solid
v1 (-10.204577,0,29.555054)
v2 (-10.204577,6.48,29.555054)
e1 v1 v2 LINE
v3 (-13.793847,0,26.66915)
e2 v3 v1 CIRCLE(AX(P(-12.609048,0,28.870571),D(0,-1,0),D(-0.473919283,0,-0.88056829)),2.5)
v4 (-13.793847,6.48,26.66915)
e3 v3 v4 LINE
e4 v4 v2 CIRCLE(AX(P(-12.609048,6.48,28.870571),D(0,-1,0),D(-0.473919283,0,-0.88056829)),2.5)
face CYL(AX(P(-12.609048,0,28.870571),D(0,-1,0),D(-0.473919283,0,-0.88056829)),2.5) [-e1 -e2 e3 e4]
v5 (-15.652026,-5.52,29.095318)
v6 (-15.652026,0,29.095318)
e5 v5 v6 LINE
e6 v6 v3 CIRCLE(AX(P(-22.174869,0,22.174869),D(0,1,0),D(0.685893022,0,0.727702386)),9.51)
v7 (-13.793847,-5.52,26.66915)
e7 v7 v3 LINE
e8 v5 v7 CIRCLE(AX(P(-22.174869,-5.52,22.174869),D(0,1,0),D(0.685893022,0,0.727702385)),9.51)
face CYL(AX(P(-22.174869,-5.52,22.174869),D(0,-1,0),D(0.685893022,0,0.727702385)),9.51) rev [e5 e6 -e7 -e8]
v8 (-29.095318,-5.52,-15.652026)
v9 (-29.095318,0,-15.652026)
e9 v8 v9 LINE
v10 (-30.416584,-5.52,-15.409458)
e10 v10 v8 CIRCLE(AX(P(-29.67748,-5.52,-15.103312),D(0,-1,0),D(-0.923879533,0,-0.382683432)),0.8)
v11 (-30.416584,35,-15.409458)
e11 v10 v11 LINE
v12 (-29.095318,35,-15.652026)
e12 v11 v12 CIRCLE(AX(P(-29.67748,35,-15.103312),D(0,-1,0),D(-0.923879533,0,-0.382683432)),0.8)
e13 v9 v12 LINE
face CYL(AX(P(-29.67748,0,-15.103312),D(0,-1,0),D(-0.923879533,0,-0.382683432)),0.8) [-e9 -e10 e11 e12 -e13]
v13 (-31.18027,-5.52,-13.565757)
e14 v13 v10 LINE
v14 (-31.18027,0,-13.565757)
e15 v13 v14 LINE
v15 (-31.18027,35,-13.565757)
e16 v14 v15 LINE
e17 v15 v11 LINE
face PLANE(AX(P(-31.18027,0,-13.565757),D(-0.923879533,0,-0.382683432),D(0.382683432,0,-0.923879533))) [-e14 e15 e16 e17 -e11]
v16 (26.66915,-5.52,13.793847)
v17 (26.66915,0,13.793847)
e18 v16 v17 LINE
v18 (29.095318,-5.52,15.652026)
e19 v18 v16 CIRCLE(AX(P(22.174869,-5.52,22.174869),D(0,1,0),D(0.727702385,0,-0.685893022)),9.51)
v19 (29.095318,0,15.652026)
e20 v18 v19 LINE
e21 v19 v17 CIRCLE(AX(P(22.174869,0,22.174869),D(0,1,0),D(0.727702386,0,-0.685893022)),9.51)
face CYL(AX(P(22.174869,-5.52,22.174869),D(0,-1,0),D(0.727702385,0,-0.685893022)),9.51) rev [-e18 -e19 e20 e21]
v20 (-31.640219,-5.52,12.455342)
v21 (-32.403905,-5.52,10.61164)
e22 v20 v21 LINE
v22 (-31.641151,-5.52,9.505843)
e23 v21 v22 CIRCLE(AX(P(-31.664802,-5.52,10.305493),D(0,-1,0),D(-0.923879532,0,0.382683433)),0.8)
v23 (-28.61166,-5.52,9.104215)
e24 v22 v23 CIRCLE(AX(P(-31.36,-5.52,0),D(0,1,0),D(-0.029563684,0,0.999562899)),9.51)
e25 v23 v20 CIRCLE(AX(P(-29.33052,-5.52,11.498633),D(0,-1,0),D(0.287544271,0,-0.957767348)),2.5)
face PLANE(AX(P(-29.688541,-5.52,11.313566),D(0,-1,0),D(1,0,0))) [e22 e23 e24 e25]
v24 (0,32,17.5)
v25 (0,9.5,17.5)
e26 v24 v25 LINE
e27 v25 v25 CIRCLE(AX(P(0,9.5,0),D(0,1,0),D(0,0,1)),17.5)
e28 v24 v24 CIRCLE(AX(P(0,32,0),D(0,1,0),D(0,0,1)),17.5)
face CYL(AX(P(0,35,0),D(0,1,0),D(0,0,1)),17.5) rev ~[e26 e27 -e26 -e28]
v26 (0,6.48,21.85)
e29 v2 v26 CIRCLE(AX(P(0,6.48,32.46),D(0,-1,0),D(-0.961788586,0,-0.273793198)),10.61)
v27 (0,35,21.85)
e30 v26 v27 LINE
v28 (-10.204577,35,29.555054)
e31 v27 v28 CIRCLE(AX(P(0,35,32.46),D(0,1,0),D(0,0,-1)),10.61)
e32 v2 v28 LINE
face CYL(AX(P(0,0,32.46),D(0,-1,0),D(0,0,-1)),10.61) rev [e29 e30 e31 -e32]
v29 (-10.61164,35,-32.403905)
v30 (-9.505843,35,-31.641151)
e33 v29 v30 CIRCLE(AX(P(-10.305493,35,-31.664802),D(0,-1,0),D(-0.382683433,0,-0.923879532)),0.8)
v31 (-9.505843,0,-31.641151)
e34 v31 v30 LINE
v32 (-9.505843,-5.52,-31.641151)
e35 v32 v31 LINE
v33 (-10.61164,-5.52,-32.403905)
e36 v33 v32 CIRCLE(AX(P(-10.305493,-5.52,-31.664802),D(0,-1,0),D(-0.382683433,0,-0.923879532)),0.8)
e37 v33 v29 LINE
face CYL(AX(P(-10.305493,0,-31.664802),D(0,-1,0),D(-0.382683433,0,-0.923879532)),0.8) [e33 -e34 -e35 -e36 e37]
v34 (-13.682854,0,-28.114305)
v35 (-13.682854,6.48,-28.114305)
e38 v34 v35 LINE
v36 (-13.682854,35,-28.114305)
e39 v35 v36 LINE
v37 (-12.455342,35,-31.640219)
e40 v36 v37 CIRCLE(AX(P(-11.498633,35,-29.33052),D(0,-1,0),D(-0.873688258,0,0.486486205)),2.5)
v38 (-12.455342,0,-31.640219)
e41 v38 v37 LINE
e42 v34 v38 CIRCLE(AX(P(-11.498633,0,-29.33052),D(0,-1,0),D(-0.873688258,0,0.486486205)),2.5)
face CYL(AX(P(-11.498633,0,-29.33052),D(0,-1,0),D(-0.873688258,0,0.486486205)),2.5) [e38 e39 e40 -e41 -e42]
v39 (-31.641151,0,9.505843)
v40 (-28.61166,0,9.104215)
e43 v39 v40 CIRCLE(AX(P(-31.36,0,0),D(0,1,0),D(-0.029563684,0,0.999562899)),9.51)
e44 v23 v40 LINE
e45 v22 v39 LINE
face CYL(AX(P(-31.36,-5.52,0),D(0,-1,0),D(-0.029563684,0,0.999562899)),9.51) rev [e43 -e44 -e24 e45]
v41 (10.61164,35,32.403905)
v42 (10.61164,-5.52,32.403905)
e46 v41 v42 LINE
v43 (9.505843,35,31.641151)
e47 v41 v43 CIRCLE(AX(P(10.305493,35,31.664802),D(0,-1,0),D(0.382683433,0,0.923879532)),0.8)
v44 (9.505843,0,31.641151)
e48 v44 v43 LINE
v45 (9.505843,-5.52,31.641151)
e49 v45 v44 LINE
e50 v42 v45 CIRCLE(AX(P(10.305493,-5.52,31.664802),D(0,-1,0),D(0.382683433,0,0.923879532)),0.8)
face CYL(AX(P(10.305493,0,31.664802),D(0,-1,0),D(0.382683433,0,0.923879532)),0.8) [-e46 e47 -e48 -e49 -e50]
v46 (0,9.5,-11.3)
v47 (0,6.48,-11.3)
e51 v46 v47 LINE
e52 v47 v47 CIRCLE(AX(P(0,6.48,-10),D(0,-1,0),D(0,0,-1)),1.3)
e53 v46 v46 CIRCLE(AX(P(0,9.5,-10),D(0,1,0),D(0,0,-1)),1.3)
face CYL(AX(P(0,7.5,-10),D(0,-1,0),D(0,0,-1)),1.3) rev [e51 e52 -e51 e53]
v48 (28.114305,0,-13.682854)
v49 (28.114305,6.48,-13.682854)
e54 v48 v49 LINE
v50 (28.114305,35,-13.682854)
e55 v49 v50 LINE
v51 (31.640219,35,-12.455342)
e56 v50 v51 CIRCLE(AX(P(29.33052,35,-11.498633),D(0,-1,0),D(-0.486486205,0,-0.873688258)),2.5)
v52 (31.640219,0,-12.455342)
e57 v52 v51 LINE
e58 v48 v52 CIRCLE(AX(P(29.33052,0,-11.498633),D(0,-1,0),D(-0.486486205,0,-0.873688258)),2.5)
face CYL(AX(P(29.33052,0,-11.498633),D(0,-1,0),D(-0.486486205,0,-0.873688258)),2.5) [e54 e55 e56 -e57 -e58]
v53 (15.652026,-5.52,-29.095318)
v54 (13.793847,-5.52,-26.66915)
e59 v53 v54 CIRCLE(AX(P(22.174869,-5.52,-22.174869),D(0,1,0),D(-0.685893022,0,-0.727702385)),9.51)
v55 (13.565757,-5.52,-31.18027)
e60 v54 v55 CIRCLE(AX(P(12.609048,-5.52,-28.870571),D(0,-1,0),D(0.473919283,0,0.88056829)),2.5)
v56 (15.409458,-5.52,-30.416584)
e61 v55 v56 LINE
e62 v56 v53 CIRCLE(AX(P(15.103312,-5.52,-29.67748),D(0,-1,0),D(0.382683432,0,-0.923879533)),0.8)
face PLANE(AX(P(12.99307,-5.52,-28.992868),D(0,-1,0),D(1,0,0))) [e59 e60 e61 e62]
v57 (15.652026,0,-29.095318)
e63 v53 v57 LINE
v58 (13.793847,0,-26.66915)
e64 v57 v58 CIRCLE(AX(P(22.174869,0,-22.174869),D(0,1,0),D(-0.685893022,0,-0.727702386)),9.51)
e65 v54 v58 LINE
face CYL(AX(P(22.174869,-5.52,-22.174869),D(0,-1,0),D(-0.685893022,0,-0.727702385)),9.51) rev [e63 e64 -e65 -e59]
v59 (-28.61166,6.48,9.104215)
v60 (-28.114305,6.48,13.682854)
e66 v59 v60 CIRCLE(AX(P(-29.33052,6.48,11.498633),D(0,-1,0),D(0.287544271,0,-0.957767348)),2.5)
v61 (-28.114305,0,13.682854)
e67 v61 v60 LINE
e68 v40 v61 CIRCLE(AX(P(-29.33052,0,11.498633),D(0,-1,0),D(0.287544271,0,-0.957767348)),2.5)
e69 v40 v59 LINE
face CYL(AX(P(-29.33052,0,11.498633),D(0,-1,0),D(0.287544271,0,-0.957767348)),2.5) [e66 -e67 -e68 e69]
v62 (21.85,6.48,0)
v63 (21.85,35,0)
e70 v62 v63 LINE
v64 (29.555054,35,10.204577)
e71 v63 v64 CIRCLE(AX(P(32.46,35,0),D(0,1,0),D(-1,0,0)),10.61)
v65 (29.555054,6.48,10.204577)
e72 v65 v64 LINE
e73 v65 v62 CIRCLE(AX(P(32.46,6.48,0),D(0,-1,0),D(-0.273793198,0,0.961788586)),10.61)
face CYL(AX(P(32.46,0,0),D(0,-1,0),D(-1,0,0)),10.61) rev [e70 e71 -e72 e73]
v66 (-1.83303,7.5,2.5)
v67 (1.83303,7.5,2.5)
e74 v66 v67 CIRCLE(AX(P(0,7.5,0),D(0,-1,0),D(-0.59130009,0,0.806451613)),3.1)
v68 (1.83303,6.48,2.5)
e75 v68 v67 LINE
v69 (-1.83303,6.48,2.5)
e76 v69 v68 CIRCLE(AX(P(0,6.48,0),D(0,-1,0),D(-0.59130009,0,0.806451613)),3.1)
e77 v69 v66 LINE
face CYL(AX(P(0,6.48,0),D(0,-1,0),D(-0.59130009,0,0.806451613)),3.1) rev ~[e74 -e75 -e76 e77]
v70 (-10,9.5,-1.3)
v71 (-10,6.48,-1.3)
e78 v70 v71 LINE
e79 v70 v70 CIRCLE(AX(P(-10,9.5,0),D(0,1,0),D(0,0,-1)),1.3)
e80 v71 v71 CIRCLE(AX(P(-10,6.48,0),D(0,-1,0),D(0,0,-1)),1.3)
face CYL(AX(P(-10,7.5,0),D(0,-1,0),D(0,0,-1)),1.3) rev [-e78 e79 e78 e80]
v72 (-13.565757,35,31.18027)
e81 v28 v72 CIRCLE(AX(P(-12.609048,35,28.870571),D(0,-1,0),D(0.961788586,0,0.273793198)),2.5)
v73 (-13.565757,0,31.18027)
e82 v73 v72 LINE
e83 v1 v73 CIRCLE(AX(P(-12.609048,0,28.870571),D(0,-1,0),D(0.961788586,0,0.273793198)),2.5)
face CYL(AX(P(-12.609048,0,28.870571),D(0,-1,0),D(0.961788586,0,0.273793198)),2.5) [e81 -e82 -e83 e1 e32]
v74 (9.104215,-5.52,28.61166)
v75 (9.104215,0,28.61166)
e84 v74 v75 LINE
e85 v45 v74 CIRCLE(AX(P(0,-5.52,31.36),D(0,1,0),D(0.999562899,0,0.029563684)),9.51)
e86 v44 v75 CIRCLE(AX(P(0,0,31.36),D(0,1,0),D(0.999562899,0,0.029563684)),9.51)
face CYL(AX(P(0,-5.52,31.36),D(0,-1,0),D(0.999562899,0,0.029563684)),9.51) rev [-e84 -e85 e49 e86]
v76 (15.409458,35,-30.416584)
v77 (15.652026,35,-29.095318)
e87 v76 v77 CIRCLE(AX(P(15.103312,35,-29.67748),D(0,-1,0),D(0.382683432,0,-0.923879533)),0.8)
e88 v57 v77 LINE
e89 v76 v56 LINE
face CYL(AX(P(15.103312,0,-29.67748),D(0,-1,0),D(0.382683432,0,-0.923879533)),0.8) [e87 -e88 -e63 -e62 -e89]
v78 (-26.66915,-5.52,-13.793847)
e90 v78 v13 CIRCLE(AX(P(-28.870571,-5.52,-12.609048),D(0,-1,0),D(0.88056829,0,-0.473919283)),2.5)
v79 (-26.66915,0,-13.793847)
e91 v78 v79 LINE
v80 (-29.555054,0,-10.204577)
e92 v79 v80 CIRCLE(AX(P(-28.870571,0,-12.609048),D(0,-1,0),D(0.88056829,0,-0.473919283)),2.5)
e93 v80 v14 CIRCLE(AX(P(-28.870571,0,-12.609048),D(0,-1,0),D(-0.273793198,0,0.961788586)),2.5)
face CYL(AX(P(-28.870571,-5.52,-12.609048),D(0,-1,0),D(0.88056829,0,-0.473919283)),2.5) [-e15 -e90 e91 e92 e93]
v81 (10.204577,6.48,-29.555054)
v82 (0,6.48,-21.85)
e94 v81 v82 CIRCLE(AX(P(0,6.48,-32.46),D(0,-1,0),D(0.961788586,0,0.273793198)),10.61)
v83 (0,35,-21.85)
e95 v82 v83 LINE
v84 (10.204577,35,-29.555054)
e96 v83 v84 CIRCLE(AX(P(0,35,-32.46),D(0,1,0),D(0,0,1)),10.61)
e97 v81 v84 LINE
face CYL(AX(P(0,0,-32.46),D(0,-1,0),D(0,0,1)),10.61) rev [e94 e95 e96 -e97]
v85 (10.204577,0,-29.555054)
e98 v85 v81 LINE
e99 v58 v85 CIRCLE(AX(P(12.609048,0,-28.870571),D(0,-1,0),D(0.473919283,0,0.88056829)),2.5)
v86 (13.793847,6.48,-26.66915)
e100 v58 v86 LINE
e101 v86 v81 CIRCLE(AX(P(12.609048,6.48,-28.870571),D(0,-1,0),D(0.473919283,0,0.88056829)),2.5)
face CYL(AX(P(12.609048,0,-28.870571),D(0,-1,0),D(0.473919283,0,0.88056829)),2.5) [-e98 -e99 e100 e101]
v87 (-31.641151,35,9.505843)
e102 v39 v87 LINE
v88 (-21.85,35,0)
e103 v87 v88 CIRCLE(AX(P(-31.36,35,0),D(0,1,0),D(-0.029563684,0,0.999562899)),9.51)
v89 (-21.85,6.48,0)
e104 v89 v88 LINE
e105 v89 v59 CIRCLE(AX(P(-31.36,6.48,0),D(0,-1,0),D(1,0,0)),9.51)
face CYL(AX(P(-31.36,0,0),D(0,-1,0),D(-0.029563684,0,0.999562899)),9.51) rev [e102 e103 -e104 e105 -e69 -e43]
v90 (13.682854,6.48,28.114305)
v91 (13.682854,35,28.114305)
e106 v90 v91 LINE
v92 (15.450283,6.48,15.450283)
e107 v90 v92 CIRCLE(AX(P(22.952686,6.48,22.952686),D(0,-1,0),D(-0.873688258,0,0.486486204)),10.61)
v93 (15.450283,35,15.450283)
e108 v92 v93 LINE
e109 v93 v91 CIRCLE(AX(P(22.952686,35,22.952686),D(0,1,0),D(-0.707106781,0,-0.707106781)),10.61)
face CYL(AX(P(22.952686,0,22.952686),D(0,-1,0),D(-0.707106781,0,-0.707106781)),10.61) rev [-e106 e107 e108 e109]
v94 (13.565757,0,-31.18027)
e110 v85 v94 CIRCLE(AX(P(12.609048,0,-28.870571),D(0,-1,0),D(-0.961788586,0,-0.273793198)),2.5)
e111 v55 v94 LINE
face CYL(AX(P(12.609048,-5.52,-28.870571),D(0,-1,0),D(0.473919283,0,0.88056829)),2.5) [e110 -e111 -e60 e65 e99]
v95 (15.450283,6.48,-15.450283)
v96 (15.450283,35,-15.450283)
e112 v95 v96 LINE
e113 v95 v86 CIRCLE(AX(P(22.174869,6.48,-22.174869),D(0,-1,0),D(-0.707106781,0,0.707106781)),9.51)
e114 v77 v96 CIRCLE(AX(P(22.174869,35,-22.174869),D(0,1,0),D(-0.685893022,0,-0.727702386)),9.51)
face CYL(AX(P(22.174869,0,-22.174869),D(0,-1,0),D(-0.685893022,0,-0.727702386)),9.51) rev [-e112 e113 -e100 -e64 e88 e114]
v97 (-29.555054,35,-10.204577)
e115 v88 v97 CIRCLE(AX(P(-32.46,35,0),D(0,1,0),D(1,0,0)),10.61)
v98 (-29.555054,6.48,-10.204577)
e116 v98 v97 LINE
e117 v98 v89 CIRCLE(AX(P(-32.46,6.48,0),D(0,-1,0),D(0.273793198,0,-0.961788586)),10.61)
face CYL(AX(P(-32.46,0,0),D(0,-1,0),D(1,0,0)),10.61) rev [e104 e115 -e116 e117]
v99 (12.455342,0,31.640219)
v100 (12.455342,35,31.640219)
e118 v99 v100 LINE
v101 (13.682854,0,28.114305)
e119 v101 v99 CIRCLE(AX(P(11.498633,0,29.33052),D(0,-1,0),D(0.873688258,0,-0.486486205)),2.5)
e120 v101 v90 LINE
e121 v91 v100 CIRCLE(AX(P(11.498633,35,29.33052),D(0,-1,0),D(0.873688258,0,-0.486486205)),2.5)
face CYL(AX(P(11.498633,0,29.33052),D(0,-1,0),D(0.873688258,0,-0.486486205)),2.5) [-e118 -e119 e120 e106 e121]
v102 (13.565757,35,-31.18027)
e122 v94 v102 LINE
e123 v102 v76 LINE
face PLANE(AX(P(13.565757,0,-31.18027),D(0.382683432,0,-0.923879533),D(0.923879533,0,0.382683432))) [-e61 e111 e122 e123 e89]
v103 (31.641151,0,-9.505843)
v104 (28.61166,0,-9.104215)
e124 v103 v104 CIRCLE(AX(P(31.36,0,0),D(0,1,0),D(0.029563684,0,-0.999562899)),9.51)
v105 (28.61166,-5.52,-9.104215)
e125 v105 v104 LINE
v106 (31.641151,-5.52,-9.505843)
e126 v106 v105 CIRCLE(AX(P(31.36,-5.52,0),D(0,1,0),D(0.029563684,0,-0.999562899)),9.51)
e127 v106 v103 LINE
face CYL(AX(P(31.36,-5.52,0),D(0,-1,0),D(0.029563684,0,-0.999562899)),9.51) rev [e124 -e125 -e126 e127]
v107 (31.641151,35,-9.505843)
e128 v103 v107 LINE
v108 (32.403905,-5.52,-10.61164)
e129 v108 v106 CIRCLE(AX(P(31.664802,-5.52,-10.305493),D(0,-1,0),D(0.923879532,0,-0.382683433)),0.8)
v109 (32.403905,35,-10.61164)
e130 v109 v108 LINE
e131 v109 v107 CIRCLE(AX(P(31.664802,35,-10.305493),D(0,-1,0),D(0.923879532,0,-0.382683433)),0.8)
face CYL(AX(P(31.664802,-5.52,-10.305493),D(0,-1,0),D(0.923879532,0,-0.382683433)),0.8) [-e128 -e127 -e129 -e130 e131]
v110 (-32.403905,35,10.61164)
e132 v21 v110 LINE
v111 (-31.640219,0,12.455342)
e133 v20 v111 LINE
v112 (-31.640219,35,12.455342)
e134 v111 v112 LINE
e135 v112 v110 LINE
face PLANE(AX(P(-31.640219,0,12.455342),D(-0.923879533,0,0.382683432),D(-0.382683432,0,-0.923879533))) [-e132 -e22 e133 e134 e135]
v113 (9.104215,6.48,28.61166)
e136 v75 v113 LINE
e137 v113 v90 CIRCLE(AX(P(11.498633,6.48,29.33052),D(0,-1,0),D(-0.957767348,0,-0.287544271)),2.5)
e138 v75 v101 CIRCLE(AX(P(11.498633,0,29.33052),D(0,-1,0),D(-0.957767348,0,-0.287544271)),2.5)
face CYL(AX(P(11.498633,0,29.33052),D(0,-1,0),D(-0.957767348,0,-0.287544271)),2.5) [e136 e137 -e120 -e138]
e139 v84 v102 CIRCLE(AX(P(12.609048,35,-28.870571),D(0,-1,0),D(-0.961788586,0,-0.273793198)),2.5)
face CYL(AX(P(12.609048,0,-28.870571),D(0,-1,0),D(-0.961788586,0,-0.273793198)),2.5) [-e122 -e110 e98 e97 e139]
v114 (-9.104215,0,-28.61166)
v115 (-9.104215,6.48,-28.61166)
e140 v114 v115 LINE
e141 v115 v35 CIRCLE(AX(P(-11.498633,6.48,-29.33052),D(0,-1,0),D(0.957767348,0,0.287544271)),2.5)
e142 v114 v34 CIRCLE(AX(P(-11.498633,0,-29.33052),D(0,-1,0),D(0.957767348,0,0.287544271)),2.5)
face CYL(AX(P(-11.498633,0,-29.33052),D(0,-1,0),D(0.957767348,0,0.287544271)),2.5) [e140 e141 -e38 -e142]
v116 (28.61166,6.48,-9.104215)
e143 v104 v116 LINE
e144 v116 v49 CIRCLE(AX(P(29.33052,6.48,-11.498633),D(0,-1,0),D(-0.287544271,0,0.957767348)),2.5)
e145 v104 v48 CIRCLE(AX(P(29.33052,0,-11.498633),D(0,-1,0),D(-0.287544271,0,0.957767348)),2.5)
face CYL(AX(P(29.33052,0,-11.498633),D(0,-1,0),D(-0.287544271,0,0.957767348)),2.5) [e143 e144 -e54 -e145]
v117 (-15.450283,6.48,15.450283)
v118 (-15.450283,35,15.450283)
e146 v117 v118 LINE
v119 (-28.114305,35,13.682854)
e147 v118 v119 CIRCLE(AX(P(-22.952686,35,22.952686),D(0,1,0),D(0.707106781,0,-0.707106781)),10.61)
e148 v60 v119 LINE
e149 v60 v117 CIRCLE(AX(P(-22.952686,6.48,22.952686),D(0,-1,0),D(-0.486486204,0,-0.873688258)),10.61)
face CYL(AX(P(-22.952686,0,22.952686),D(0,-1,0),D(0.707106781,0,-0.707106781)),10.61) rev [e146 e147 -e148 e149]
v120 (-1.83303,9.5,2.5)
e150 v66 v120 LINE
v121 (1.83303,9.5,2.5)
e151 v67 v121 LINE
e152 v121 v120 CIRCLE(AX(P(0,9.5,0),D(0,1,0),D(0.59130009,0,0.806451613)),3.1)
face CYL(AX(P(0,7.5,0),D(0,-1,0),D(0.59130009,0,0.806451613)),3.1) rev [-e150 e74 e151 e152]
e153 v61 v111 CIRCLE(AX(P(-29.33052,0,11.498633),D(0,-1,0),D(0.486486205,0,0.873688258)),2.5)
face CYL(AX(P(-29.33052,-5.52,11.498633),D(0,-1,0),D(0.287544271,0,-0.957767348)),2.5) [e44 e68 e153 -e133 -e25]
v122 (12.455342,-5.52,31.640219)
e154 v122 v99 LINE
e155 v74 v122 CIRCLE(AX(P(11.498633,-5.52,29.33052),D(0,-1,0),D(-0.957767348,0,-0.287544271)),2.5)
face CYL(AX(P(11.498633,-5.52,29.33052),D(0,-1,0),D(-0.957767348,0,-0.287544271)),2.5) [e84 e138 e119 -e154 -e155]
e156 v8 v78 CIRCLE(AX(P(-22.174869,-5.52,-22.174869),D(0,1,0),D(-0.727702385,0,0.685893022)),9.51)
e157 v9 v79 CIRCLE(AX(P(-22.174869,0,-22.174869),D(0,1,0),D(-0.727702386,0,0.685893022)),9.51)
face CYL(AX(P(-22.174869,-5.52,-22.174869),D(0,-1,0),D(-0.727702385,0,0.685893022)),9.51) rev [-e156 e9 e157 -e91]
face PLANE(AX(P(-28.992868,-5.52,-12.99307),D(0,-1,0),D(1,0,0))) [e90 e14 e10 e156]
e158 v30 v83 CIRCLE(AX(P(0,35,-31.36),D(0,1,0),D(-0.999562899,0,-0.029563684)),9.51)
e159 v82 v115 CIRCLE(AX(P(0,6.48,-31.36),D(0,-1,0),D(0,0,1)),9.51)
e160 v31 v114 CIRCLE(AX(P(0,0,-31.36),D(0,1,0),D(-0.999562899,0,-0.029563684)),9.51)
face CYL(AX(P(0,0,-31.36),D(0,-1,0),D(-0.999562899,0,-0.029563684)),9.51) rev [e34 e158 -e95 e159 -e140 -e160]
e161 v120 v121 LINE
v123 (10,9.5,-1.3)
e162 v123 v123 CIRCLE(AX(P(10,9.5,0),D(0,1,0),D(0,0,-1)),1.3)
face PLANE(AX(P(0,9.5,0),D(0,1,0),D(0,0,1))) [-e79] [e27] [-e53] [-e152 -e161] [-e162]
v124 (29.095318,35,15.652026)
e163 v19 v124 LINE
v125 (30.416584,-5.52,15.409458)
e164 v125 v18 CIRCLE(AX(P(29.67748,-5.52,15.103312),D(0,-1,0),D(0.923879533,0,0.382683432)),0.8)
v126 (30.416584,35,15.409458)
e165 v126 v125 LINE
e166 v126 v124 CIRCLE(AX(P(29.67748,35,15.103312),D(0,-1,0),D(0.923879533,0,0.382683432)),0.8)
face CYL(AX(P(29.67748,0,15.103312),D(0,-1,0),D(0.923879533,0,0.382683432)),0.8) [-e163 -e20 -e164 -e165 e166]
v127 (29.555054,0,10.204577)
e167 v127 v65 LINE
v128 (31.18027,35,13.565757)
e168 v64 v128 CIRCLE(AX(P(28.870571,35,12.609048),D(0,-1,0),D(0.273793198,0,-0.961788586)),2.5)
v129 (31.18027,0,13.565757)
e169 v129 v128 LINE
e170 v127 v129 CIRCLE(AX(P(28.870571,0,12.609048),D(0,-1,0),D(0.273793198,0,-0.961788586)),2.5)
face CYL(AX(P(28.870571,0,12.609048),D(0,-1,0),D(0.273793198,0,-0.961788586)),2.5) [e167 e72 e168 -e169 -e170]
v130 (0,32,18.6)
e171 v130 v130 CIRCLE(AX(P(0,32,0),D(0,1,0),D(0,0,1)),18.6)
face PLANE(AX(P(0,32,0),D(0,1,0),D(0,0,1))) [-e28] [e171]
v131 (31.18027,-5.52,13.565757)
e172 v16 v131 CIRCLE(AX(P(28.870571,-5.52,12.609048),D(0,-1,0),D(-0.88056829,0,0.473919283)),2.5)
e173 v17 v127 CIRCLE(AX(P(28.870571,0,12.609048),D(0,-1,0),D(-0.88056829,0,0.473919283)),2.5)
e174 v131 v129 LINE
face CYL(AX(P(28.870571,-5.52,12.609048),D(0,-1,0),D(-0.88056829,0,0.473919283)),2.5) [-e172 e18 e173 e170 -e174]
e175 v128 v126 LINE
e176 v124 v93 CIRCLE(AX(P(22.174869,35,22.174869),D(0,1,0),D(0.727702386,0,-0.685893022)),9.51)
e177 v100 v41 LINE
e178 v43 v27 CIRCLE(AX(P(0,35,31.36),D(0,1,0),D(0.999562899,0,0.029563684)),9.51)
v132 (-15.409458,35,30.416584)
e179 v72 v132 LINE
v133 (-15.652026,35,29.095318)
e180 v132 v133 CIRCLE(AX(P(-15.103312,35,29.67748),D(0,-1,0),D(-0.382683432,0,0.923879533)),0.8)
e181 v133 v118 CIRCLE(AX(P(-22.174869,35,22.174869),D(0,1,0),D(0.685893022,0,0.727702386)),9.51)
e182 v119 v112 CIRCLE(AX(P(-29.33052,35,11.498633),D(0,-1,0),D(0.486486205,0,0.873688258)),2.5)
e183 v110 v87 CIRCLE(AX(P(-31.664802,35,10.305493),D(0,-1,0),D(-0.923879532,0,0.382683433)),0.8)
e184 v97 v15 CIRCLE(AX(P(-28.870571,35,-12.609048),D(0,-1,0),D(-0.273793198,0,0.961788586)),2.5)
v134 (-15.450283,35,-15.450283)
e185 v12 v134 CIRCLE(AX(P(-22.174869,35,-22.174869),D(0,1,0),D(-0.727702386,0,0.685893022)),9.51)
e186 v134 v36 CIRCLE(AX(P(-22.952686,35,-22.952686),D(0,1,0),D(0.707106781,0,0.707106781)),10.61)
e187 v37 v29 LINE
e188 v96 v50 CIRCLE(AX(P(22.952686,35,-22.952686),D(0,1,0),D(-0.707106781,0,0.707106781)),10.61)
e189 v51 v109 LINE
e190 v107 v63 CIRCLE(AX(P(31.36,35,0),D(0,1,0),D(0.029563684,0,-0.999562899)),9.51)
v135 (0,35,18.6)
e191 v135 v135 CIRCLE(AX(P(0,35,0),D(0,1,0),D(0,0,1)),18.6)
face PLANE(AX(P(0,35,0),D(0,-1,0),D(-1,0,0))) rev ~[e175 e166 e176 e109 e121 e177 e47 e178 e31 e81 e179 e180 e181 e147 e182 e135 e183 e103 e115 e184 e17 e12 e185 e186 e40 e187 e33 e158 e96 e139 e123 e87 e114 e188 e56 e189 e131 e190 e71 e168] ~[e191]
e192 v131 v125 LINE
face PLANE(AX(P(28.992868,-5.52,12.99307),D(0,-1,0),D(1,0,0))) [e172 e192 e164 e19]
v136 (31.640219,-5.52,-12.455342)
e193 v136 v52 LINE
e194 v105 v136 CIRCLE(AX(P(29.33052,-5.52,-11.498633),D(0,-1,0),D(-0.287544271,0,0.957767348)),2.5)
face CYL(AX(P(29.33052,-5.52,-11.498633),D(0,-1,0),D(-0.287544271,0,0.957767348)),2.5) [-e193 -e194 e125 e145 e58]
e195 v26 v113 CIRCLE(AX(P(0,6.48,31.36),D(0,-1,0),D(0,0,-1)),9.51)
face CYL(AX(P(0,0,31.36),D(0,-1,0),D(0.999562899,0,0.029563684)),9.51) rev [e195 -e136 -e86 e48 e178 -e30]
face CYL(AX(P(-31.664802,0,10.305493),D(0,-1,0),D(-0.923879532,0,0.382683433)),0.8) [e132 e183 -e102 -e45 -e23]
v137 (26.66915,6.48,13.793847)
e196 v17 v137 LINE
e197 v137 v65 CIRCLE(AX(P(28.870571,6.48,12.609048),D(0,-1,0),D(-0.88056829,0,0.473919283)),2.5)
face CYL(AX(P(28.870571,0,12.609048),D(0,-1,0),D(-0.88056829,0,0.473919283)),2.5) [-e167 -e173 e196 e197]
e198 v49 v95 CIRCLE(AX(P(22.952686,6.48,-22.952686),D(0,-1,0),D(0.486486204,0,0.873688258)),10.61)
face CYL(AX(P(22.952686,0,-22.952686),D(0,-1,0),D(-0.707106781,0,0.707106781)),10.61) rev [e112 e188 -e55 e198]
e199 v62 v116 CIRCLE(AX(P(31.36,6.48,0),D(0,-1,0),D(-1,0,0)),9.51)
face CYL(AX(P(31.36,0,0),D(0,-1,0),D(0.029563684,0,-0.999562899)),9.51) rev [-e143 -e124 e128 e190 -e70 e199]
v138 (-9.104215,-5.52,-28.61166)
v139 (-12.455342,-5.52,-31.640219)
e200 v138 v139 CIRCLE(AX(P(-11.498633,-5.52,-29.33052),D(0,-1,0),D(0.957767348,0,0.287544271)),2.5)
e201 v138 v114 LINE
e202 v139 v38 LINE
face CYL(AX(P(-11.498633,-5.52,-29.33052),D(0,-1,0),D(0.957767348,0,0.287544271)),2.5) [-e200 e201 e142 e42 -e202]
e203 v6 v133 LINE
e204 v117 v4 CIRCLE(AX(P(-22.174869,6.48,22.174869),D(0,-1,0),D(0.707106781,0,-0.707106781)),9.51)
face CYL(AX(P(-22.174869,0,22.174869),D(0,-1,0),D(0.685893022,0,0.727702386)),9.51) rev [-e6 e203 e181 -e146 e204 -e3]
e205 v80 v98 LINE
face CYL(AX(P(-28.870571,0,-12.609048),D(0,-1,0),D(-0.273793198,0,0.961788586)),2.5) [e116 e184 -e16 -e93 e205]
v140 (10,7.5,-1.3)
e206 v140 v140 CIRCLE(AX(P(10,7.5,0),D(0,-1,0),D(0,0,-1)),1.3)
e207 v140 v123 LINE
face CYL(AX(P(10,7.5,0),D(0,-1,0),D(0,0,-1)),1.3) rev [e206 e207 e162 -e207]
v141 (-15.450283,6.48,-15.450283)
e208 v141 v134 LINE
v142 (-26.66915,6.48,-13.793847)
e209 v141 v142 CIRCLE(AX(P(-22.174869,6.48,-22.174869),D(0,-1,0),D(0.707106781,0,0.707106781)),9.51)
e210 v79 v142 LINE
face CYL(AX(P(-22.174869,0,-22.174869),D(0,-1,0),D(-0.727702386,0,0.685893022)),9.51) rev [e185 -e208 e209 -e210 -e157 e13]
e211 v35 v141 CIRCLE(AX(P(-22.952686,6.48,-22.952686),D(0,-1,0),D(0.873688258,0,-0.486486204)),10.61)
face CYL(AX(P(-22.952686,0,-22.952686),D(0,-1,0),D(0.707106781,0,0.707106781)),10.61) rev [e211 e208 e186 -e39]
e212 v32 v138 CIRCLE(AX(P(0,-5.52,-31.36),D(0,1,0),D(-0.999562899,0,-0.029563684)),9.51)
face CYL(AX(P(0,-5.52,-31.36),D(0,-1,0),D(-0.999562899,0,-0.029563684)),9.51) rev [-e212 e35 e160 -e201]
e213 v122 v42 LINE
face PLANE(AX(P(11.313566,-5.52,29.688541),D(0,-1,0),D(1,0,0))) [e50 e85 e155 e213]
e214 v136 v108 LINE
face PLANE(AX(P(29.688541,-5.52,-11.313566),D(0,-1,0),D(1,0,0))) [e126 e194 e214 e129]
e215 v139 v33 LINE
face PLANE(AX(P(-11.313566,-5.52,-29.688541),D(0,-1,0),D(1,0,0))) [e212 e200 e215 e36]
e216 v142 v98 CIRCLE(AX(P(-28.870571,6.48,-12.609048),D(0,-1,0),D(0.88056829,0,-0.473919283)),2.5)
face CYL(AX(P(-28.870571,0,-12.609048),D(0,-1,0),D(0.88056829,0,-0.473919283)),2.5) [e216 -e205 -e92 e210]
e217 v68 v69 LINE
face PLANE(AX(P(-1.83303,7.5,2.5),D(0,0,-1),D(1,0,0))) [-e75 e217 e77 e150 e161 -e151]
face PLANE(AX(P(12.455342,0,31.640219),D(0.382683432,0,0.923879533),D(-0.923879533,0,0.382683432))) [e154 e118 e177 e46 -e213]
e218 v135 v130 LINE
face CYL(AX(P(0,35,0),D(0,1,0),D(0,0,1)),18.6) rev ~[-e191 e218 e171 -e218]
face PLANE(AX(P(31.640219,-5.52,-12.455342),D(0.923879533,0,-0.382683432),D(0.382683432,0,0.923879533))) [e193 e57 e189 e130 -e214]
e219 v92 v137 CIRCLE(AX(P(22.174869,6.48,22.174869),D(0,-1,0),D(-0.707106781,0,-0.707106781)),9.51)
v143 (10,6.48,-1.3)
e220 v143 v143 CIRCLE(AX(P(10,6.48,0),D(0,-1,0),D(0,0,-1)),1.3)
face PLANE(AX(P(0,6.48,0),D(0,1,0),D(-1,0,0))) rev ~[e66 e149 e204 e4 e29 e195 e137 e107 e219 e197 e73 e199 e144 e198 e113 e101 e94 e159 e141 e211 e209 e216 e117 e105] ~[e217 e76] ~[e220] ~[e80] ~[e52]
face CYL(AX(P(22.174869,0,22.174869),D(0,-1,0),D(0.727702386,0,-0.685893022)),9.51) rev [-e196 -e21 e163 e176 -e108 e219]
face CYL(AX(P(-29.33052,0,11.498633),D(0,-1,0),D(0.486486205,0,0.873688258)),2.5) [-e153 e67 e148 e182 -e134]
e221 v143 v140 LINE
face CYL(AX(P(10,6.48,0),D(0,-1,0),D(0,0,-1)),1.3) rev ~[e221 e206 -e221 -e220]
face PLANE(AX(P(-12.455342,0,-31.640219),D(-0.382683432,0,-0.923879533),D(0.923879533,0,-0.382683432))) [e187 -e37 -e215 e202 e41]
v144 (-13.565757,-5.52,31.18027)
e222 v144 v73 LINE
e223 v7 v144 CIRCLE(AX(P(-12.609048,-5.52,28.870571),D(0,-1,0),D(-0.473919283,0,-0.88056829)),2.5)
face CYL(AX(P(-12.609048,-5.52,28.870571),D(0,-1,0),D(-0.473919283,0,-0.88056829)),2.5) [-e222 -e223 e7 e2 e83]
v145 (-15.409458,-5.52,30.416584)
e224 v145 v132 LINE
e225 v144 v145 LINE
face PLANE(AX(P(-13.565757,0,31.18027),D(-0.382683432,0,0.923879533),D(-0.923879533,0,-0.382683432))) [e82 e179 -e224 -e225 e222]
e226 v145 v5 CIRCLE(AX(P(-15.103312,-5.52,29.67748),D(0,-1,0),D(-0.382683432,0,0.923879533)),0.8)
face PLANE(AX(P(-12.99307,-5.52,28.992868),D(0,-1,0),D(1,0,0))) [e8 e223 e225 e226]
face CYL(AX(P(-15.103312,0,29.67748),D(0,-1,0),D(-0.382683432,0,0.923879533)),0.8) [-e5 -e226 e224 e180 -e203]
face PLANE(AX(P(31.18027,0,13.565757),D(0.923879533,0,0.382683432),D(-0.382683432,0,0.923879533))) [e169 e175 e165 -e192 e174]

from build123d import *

# Parameters (mm, degrees)
EXTRUDE_1_DEPTH     = 35
SKETCH_5_R          = 17.5
CUT_EXTRUDE_3_DEPTH = 27.5
SKETCH_6_R          = 18.6
CUT_EXTRUDE_4_DEPTH = 3
CUT_EXTRUDE_5_DEPTH = 6.48
CUT_EXTRUDE_6_DEPTH = 55.049209838
EXTRUDE_START       = 5.52
EXTRUDE_2_DEPTH     = 5.52
SKETCH_12_R         = 1.3
CUT_EXTRUDE_7_DEPTH = 55.049209838
SKETCH_13_R         = 17.5
SKETCH_13_R_2       = 1.3
EXTRUDE_3_DEPTH     = 2


with BuildPart() as part:
    # 草图1 → 凸台-拉伸1 (new body)
    with BuildSketch(Plane(origin=(0, 0, 0), x_dir=(1, 0, 0), z_dir=(0, 1, 0))):
        with BuildLine():
            Line((13.565756947, 31.180270004), (15.409458345, 30.41658388))
            ThreePointArc((15.409458345, 30.41658388), (15.890161366, 29.821935938), (15.652026017, 29.095318346))
            ThreePointArc((15.652026017, 29.095318346), (12.665907923, 22.315459341), (15.450283169, 15.450283169))
            ThreePointArc((15.450283169, 15.450283169), (21.486135899, 12.444530691), (28.114304746, 13.682853695))
            ThreePointArc((28.114304746, 13.682853695), (30.152483097, 13.859644928), (31.640219088, 12.45534163))
            Line((31.640219088, 12.45534163), (32.403905212, 10.611640232))
            ThreePointArc((32.403905212, 10.611640232), (32.323333986, 9.851252274), (31.641150639, 9.505843167))
            ThreePointArc((31.641150639, 9.505843167), (24.735562008, 6.823263243), (21.85, 0))
            ThreePointArc((21.85, 0), (23.992604436, -6.393380355), (29.555054168, -10.2045769))
            ThreePointArc((29.555054168, -10.2045769), (31.121274181, -11.520776354), (31.180270004, -13.565756947))
            Line((31.180270004, -13.565756947), (30.41658388, -15.409458345))
            ThreePointArc((30.41658388, -15.409458345), (29.821935938, -15.890161366), (29.095318346, -15.652026017))
            ThreePointArc((29.095318346, -15.652026017), (22.315459341, -12.665907923), (15.450283169, -15.450283169))
            ThreePointArc((15.450283169, -15.450283169), (12.444530691, -21.486135899), (13.682853695, -28.114304746))
            ThreePointArc((13.682853695, -28.114304746), (13.859644928, -30.152483097), (12.45534163, -31.640219088))
            Line((12.45534163, -31.640219088), (10.611640232, -32.403905212))
            ThreePointArc((10.611640232, -32.403905212), (9.851252274, -32.323333986), (9.505843167, -31.641150639))
            ThreePointArc((9.505843167, -31.641150639), (6.823263243, -24.735562008), (0, -21.85))
            ThreePointArc((0, -21.85), (-6.393380355, -23.992604436), (-10.2045769, -29.555054168))
            ThreePointArc((-10.2045769, -29.555054168), (-11.520776354, -31.121274181), (-13.565756947, -31.180270004))
            Line((-13.565756947, -31.180270004), (-15.409458345, -30.41658388))
            ThreePointArc((-15.409458345, -30.41658388), (-15.890161366, -29.821935938), (-15.652026017, -29.095318346))
            ThreePointArc((-15.652026017, -29.095318346), (-12.665907923, -22.315459341), (-15.450283169, -15.450283169))
            ThreePointArc((-15.450283169, -15.450283169), (-21.486135899, -12.444530691), (-28.114304746, -13.682853695))
            ThreePointArc((-28.114304746, -13.682853695), (-30.152483097, -13.859644928), (-31.640219088, -12.45534163))
            Line((-31.640219088, -12.45534163), (-32.403905212, -10.611640232))
            ThreePointArc((-32.403905212, -10.611640232), (-32.323333986, -9.851252274), (-31.641150639, -9.505843167))
            ThreePointArc((-31.641150639, -9.505843167), (-24.735562008, -6.823263243), (-21.85, 0))
            ThreePointArc((-21.85, 0), (-23.992604436, 6.393380355), (-29.555054168, 10.2045769))
            ThreePointArc((-29.555054168, 10.2045769), (-31.121274181, 11.520776354), (-31.180270004, 13.565756947))
            Line((-31.180270004, 13.565756947), (-30.41658388, 15.409458345))
            ThreePointArc((-30.41658388, 15.409458345), (-29.821935938, 15.890161366), (-29.095318346, 15.652026017))
            ThreePointArc((-29.095318346, 15.652026017), (-22.315459341, 12.665907923), (-15.450283169, 15.450283169))
            ThreePointArc((-15.450283169, 15.450283169), (-12.444530691, 21.486135899), (-13.682853695, 28.114304746))
            ThreePointArc((-13.682853695, 28.114304746), (-13.859644928, 30.152483097), (-12.45534163, 31.640219088))
            Line((-12.45534163, 31.640219088), (-10.611640232, 32.403905212))
            ThreePointArc((-10.611640232, 32.403905212), (-9.851252274, 32.323333986), (-9.505843167, 31.641150639))
            ThreePointArc((-9.505843167, 31.641150639), (-6.823263243, 24.735562008), (0, 21.85))
            ThreePointArc((0, 21.85), (6.393380355, 23.992604436), (10.2045769, 29.555054168))
            ThreePointArc((10.2045769, 29.555054168), (11.520776354, 31.121274181), (13.565756947, 31.180270004))
        make_face()
    extrude(amount=EXTRUDE_1_DEPTH)

    # 草图5 → 切除-拉伸3 (cut)
    with BuildSketch(Plane(origin=(0, 35, 0), x_dir=(1, 0, 0), z_dir=(0, 1, 0))):
        with Locations(Location((0, 0, 0), (0, 0, 270))):
            Circle(SKETCH_5_R)
    extrude(amount=-CUT_EXTRUDE_3_DEPTH, mode=Mode.SUBTRACT)

    # 草图6 → 切除-拉伸4 (cut)
    with BuildSketch(Plane(origin=(0, 35, 0), x_dir=(1, 0, 0), z_dir=(0, 1, 0))):
        with Locations(Location((0, 0, 0), (0, 0, 270))):
            Circle(SKETCH_6_R)
    extrude(amount=-CUT_EXTRUDE_4_DEPTH, mode=Mode.SUBTRACT)

    # 草图7 → 切除-拉伸5 (cut)
    with BuildSketch(Plane.XZ):
        with BuildLine():
            ThreePointArc((9.10421468, 28.61165958), (11.228658553, 26.845140252), (13.682853695, 28.114304746))
            ThreePointArc((13.682853695, 28.114304746), (12.444530691, 21.486135899), (15.450283169, 15.450283169))
            ThreePointArc((15.450283169, 15.450283169), (20.785800914, 12.766861919), (26.669150448, 13.793846573))
            ThreePointArc((26.669150448, 13.793846573), (26.92224132, 11.042520107), (29.555054168, 10.2045769))
            ThreePointArc((29.555054168, 10.2045769), (23.992604436, 6.393380355), (21.85, 0))
            ThreePointArc((21.85, 0), (23.725315416, -5.670246141), (28.61165958, -9.10421468))
            ThreePointArc((28.61165958, -9.10421468), (26.845140252, -11.228658553), (28.114304746, -13.682853695))
            ThreePointArc((28.114304746, -13.682853695), (21.486135899, -12.444530691), (15.450283169, -15.450283169))
            ThreePointArc((15.450283169, -15.450283169), (12.766861919, -20.785800914), (13.793846573, -26.669150448))
            ThreePointArc((13.793846573, -26.669150448), (11.042520107, -26.92224132), (10.2045769, -29.555054168))
            ThreePointArc((10.2045769, -29.555054168), (6.393380355, -23.992604436), (0, -21.85))
            ThreePointArc((0, -21.85), (-5.670246141, -23.725315416), (-9.10421468, -28.61165958))
            ThreePointArc((-9.10421468, -28.61165958), (-11.228658553, -26.845140252), (-13.682853695, -28.114304746))
            ThreePointArc((-13.682853695, -28.114304746), (-12.444530691, -21.486135899), (-15.450283169, -15.450283169))
            ThreePointArc((-15.450283169, -15.450283169), (-20.785800914, -12.766861919), (-26.669150448, -13.793846573))
            ThreePointArc((-26.669150448, -13.793846573), (-26.92224132, -11.042520107), (-29.555054168, -10.2045769))
            ThreePointArc((-29.555054168, -10.2045769), (-23.992604436, -6.393380355), (-21.85, 0))
            ThreePointArc((-21.85, 0), (-23.725315416, 5.670246141), (-28.61165958, 9.10421468))
            ThreePointArc((-28.61165958, 9.10421468), (-26.845140252, 11.228658553), (-28.114304746, 13.682853695))
            ThreePointArc((-28.114304746, 13.682853695), (-21.486135899, 12.444530691), (-15.450283169, 15.450283169))
            ThreePointArc((-15.450283169, 15.450283169), (-12.766861919, 20.785800914), (-13.793846573, 26.669150448))
            ThreePointArc((-13.793846573, 26.669150448), (-11.042520107, 26.92224132), (-10.2045769, 29.555054168))
            ThreePointArc((-10.2045769, 29.555054168), (-6.393380355, 23.992604436), (0, 21.85))
            ThreePointArc((0, 21.85), (5.670246141, 23.725315416), (9.10421468, 28.61165958))
        make_face()
    extrude(amount=-CUT_EXTRUDE_5_DEPTH, mode=Mode.SUBTRACT)

    # 草图8 → 切除-拉伸6 (cut, through all)
    with BuildSketch(Plane.XZ.offset(-6.48)):
        with BuildLine():
            Line((1.833030278, 2.5), (-1.833030278, 2.5))
            ThreePointArc((-1.833030278, 2.5), (0, -3.1), (1.833030278, 2.5))
        make_face()
    extrude(amount=-CUT_EXTRUDE_6_DEPTH, mode=Mode.SUBTRACT)

    # 草图11 → 凸台-拉伸2 (add)
    with BuildSketch(Plane.XZ.offset(EXTRUDE_START)):
        with BuildLine():
            Line((31.640219088, -12.45534163), (32.403905212, -10.611640232))
            ThreePointArc((32.403905212, -10.611640232), (32.323333986, -9.851252274), (31.641150639, -9.505843167))
            ThreePointArc((31.641150639, -9.505843167), (30.110166925, -9.427513844), (28.61165958, -9.10421468))
            ThreePointArc((28.61165958, -9.10421468), (27.475741438, -13.174877522), (31.640219088, -12.45534163))
        make_face()
        with BuildLine():
            Line((31.180270004, 13.565756947), (30.41658388, 15.409458345))
            ThreePointArc((30.41658388, 15.409458345), (29.821935938, 15.890161366), (29.095318346, 15.652026017))
            ThreePointArc((29.095318346, 15.652026017), (27.957362185, 14.624844247), (26.669150448, 13.793846573))
            ThreePointArc((26.669150448, 13.793846573), (28.744328326, 10.112237852), (31.180270004, 13.565756947))
        make_face()
        with BuildLine():
            Line((12.45534163, 31.640219088), (10.611640232, 32.403905212))
            ThreePointArc((10.611640232, 32.403905212), (9.851252274, 32.323333986), (9.505843167, 31.641150639))
            ThreePointArc((9.505843167, 31.641150639), (9.427513844, 30.110166925), (9.10421468, 28.61165958))
            ThreePointArc((9.10421468, 28.61165958), (13.174877522, 27.475741438), (12.45534163, 31.640219088))
        make_face()
        with BuildLine():
            Line((-13.565756947, 31.180270004), (-15.409458345, 30.41658388))
            ThreePointArc((-15.409458345, 30.41658388), (-15.890161366, 29.821935938), (-15.652026017, 29.095318346))
            ThreePointArc((-15.652026017, 29.095318346), (-14.624844247, 27.957362185), (-13.793846573, 26.669150448))
            ThreePointArc((-13.793846573, 26.669150448), (-10.112237852, 28.744328326), (-13.565756947, 31.180270004))
        make_face()
        with BuildLine():
            Line((-31.640219088, 12.45534163), (-32.403905212, 10.611640232))
            ThreePointArc((-32.403905212, 10.611640232), (-32.323333986, 9.851252274), (-31.641150639, 9.505843167))
            ThreePointArc((-31.641150639, 9.505843167), (-30.110166925, 9.427513844), (-28.61165958, 9.10421468))
            ThreePointArc((-28.61165958, 9.10421468), (-27.475741438, 13.174877522), (-31.640219088, 12.45534163))
        make_face()
        with BuildLine():
            Line((-31.180270004, -13.565756947), (-30.41658388, -15.409458345))
            ThreePointArc((-30.41658388, -15.409458345), (-29.821935938, -15.890161366), (-29.095318346, -15.652026017))
            ThreePointArc((-29.095318346, -15.652026017), (-27.957362185, -14.624844247), (-26.669150448, -13.793846573))
            ThreePointArc((-26.669150448, -13.793846573), (-28.744328326, -10.112237852), (-31.180270004, -13.565756947))
        make_face()
        with BuildLine():
            Line((-12.45534163, -31.640219088), (-10.611640232, -32.403905212))
            ThreePointArc((-10.611640232, -32.403905212), (-9.851252274, -32.323333986), (-9.505843167, -31.641150639))
            ThreePointArc((-9.505843167, -31.641150639), (-9.427513844, -30.110166925), (-9.10421468, -28.61165958))
            ThreePointArc((-9.10421468, -28.61165958), (-13.174877522, -27.475741438), (-12.45534163, -31.640219088))
        make_face()
        with BuildLine():
            Line((13.565756947, -31.180270004), (15.409458345, -30.41658388))
            ThreePointArc((15.409458345, -30.41658388), (15.890161366, -29.821935938), (15.652026017, -29.095318346))
            ThreePointArc((15.652026017, -29.095318346), (14.624844247, -27.957362185), (13.793846573, -26.669150448))
            ThreePointArc((13.793846573, -26.669150448), (10.112237852, -28.744328326), (13.565756947, -31.180270004))
        make_face()
    extrude(amount=-EXTRUDE_2_DEPTH)

    # 草图12 → 切除-拉伸7 (cut, through all)
    with BuildSketch(Plane.XZ.offset(-6.48)):
        with Locations(Location((10, 0, 0), (0, 0, 270))):
            Circle(SKETCH_12_R)
        with Locations(Location((0, -10, 0), (0, 0, 270))):
            Circle(SKETCH_12_R)
        with Locations(Location((-10, 0, 0), (0, 0, 270))):
            Circle(SKETCH_12_R)
    extrude(amount=-CUT_EXTRUDE_7_DEPTH, mode=Mode.SUBTRACT)

    # 草图13 → 凸台-拉伸3 (add)
    with BuildSketch(Plane(origin=(0, 7.5, 0), x_dir=(1, 0, 0), z_dir=(0, 1, 0))):
        with Locations(Location((0, 0, 0), (0, 0, 270))):
            Circle(SKETCH_13_R)
        with Locations(Location((-10, 0, 0), (0, 0, 90))):
            Circle(SKETCH_13_R_2, mode=Mode.SUBTRACT)
        with Locations(Location((0, 10, 0), (0, 0, 90))):
            Circle(SKETCH_13_R_2, mode=Mode.SUBTRACT)
        with Locations(Location((10, 0, 0), (0, 0, 90))):
            Circle(SKETCH_13_R_2, mode=Mode.SUBTRACT)
        with BuildLine():
            Line((-1.833030278, -2.5), (1.833030278, -2.5))
            ThreePointArc((1.833030278, -2.5), (0, 3.1), (-1.833030278, -2.5))
        make_face(mode=Mode.SUBTRACT)
    extrude(amount=EXTRUDE_3_DEPTH)


solid = part.part
